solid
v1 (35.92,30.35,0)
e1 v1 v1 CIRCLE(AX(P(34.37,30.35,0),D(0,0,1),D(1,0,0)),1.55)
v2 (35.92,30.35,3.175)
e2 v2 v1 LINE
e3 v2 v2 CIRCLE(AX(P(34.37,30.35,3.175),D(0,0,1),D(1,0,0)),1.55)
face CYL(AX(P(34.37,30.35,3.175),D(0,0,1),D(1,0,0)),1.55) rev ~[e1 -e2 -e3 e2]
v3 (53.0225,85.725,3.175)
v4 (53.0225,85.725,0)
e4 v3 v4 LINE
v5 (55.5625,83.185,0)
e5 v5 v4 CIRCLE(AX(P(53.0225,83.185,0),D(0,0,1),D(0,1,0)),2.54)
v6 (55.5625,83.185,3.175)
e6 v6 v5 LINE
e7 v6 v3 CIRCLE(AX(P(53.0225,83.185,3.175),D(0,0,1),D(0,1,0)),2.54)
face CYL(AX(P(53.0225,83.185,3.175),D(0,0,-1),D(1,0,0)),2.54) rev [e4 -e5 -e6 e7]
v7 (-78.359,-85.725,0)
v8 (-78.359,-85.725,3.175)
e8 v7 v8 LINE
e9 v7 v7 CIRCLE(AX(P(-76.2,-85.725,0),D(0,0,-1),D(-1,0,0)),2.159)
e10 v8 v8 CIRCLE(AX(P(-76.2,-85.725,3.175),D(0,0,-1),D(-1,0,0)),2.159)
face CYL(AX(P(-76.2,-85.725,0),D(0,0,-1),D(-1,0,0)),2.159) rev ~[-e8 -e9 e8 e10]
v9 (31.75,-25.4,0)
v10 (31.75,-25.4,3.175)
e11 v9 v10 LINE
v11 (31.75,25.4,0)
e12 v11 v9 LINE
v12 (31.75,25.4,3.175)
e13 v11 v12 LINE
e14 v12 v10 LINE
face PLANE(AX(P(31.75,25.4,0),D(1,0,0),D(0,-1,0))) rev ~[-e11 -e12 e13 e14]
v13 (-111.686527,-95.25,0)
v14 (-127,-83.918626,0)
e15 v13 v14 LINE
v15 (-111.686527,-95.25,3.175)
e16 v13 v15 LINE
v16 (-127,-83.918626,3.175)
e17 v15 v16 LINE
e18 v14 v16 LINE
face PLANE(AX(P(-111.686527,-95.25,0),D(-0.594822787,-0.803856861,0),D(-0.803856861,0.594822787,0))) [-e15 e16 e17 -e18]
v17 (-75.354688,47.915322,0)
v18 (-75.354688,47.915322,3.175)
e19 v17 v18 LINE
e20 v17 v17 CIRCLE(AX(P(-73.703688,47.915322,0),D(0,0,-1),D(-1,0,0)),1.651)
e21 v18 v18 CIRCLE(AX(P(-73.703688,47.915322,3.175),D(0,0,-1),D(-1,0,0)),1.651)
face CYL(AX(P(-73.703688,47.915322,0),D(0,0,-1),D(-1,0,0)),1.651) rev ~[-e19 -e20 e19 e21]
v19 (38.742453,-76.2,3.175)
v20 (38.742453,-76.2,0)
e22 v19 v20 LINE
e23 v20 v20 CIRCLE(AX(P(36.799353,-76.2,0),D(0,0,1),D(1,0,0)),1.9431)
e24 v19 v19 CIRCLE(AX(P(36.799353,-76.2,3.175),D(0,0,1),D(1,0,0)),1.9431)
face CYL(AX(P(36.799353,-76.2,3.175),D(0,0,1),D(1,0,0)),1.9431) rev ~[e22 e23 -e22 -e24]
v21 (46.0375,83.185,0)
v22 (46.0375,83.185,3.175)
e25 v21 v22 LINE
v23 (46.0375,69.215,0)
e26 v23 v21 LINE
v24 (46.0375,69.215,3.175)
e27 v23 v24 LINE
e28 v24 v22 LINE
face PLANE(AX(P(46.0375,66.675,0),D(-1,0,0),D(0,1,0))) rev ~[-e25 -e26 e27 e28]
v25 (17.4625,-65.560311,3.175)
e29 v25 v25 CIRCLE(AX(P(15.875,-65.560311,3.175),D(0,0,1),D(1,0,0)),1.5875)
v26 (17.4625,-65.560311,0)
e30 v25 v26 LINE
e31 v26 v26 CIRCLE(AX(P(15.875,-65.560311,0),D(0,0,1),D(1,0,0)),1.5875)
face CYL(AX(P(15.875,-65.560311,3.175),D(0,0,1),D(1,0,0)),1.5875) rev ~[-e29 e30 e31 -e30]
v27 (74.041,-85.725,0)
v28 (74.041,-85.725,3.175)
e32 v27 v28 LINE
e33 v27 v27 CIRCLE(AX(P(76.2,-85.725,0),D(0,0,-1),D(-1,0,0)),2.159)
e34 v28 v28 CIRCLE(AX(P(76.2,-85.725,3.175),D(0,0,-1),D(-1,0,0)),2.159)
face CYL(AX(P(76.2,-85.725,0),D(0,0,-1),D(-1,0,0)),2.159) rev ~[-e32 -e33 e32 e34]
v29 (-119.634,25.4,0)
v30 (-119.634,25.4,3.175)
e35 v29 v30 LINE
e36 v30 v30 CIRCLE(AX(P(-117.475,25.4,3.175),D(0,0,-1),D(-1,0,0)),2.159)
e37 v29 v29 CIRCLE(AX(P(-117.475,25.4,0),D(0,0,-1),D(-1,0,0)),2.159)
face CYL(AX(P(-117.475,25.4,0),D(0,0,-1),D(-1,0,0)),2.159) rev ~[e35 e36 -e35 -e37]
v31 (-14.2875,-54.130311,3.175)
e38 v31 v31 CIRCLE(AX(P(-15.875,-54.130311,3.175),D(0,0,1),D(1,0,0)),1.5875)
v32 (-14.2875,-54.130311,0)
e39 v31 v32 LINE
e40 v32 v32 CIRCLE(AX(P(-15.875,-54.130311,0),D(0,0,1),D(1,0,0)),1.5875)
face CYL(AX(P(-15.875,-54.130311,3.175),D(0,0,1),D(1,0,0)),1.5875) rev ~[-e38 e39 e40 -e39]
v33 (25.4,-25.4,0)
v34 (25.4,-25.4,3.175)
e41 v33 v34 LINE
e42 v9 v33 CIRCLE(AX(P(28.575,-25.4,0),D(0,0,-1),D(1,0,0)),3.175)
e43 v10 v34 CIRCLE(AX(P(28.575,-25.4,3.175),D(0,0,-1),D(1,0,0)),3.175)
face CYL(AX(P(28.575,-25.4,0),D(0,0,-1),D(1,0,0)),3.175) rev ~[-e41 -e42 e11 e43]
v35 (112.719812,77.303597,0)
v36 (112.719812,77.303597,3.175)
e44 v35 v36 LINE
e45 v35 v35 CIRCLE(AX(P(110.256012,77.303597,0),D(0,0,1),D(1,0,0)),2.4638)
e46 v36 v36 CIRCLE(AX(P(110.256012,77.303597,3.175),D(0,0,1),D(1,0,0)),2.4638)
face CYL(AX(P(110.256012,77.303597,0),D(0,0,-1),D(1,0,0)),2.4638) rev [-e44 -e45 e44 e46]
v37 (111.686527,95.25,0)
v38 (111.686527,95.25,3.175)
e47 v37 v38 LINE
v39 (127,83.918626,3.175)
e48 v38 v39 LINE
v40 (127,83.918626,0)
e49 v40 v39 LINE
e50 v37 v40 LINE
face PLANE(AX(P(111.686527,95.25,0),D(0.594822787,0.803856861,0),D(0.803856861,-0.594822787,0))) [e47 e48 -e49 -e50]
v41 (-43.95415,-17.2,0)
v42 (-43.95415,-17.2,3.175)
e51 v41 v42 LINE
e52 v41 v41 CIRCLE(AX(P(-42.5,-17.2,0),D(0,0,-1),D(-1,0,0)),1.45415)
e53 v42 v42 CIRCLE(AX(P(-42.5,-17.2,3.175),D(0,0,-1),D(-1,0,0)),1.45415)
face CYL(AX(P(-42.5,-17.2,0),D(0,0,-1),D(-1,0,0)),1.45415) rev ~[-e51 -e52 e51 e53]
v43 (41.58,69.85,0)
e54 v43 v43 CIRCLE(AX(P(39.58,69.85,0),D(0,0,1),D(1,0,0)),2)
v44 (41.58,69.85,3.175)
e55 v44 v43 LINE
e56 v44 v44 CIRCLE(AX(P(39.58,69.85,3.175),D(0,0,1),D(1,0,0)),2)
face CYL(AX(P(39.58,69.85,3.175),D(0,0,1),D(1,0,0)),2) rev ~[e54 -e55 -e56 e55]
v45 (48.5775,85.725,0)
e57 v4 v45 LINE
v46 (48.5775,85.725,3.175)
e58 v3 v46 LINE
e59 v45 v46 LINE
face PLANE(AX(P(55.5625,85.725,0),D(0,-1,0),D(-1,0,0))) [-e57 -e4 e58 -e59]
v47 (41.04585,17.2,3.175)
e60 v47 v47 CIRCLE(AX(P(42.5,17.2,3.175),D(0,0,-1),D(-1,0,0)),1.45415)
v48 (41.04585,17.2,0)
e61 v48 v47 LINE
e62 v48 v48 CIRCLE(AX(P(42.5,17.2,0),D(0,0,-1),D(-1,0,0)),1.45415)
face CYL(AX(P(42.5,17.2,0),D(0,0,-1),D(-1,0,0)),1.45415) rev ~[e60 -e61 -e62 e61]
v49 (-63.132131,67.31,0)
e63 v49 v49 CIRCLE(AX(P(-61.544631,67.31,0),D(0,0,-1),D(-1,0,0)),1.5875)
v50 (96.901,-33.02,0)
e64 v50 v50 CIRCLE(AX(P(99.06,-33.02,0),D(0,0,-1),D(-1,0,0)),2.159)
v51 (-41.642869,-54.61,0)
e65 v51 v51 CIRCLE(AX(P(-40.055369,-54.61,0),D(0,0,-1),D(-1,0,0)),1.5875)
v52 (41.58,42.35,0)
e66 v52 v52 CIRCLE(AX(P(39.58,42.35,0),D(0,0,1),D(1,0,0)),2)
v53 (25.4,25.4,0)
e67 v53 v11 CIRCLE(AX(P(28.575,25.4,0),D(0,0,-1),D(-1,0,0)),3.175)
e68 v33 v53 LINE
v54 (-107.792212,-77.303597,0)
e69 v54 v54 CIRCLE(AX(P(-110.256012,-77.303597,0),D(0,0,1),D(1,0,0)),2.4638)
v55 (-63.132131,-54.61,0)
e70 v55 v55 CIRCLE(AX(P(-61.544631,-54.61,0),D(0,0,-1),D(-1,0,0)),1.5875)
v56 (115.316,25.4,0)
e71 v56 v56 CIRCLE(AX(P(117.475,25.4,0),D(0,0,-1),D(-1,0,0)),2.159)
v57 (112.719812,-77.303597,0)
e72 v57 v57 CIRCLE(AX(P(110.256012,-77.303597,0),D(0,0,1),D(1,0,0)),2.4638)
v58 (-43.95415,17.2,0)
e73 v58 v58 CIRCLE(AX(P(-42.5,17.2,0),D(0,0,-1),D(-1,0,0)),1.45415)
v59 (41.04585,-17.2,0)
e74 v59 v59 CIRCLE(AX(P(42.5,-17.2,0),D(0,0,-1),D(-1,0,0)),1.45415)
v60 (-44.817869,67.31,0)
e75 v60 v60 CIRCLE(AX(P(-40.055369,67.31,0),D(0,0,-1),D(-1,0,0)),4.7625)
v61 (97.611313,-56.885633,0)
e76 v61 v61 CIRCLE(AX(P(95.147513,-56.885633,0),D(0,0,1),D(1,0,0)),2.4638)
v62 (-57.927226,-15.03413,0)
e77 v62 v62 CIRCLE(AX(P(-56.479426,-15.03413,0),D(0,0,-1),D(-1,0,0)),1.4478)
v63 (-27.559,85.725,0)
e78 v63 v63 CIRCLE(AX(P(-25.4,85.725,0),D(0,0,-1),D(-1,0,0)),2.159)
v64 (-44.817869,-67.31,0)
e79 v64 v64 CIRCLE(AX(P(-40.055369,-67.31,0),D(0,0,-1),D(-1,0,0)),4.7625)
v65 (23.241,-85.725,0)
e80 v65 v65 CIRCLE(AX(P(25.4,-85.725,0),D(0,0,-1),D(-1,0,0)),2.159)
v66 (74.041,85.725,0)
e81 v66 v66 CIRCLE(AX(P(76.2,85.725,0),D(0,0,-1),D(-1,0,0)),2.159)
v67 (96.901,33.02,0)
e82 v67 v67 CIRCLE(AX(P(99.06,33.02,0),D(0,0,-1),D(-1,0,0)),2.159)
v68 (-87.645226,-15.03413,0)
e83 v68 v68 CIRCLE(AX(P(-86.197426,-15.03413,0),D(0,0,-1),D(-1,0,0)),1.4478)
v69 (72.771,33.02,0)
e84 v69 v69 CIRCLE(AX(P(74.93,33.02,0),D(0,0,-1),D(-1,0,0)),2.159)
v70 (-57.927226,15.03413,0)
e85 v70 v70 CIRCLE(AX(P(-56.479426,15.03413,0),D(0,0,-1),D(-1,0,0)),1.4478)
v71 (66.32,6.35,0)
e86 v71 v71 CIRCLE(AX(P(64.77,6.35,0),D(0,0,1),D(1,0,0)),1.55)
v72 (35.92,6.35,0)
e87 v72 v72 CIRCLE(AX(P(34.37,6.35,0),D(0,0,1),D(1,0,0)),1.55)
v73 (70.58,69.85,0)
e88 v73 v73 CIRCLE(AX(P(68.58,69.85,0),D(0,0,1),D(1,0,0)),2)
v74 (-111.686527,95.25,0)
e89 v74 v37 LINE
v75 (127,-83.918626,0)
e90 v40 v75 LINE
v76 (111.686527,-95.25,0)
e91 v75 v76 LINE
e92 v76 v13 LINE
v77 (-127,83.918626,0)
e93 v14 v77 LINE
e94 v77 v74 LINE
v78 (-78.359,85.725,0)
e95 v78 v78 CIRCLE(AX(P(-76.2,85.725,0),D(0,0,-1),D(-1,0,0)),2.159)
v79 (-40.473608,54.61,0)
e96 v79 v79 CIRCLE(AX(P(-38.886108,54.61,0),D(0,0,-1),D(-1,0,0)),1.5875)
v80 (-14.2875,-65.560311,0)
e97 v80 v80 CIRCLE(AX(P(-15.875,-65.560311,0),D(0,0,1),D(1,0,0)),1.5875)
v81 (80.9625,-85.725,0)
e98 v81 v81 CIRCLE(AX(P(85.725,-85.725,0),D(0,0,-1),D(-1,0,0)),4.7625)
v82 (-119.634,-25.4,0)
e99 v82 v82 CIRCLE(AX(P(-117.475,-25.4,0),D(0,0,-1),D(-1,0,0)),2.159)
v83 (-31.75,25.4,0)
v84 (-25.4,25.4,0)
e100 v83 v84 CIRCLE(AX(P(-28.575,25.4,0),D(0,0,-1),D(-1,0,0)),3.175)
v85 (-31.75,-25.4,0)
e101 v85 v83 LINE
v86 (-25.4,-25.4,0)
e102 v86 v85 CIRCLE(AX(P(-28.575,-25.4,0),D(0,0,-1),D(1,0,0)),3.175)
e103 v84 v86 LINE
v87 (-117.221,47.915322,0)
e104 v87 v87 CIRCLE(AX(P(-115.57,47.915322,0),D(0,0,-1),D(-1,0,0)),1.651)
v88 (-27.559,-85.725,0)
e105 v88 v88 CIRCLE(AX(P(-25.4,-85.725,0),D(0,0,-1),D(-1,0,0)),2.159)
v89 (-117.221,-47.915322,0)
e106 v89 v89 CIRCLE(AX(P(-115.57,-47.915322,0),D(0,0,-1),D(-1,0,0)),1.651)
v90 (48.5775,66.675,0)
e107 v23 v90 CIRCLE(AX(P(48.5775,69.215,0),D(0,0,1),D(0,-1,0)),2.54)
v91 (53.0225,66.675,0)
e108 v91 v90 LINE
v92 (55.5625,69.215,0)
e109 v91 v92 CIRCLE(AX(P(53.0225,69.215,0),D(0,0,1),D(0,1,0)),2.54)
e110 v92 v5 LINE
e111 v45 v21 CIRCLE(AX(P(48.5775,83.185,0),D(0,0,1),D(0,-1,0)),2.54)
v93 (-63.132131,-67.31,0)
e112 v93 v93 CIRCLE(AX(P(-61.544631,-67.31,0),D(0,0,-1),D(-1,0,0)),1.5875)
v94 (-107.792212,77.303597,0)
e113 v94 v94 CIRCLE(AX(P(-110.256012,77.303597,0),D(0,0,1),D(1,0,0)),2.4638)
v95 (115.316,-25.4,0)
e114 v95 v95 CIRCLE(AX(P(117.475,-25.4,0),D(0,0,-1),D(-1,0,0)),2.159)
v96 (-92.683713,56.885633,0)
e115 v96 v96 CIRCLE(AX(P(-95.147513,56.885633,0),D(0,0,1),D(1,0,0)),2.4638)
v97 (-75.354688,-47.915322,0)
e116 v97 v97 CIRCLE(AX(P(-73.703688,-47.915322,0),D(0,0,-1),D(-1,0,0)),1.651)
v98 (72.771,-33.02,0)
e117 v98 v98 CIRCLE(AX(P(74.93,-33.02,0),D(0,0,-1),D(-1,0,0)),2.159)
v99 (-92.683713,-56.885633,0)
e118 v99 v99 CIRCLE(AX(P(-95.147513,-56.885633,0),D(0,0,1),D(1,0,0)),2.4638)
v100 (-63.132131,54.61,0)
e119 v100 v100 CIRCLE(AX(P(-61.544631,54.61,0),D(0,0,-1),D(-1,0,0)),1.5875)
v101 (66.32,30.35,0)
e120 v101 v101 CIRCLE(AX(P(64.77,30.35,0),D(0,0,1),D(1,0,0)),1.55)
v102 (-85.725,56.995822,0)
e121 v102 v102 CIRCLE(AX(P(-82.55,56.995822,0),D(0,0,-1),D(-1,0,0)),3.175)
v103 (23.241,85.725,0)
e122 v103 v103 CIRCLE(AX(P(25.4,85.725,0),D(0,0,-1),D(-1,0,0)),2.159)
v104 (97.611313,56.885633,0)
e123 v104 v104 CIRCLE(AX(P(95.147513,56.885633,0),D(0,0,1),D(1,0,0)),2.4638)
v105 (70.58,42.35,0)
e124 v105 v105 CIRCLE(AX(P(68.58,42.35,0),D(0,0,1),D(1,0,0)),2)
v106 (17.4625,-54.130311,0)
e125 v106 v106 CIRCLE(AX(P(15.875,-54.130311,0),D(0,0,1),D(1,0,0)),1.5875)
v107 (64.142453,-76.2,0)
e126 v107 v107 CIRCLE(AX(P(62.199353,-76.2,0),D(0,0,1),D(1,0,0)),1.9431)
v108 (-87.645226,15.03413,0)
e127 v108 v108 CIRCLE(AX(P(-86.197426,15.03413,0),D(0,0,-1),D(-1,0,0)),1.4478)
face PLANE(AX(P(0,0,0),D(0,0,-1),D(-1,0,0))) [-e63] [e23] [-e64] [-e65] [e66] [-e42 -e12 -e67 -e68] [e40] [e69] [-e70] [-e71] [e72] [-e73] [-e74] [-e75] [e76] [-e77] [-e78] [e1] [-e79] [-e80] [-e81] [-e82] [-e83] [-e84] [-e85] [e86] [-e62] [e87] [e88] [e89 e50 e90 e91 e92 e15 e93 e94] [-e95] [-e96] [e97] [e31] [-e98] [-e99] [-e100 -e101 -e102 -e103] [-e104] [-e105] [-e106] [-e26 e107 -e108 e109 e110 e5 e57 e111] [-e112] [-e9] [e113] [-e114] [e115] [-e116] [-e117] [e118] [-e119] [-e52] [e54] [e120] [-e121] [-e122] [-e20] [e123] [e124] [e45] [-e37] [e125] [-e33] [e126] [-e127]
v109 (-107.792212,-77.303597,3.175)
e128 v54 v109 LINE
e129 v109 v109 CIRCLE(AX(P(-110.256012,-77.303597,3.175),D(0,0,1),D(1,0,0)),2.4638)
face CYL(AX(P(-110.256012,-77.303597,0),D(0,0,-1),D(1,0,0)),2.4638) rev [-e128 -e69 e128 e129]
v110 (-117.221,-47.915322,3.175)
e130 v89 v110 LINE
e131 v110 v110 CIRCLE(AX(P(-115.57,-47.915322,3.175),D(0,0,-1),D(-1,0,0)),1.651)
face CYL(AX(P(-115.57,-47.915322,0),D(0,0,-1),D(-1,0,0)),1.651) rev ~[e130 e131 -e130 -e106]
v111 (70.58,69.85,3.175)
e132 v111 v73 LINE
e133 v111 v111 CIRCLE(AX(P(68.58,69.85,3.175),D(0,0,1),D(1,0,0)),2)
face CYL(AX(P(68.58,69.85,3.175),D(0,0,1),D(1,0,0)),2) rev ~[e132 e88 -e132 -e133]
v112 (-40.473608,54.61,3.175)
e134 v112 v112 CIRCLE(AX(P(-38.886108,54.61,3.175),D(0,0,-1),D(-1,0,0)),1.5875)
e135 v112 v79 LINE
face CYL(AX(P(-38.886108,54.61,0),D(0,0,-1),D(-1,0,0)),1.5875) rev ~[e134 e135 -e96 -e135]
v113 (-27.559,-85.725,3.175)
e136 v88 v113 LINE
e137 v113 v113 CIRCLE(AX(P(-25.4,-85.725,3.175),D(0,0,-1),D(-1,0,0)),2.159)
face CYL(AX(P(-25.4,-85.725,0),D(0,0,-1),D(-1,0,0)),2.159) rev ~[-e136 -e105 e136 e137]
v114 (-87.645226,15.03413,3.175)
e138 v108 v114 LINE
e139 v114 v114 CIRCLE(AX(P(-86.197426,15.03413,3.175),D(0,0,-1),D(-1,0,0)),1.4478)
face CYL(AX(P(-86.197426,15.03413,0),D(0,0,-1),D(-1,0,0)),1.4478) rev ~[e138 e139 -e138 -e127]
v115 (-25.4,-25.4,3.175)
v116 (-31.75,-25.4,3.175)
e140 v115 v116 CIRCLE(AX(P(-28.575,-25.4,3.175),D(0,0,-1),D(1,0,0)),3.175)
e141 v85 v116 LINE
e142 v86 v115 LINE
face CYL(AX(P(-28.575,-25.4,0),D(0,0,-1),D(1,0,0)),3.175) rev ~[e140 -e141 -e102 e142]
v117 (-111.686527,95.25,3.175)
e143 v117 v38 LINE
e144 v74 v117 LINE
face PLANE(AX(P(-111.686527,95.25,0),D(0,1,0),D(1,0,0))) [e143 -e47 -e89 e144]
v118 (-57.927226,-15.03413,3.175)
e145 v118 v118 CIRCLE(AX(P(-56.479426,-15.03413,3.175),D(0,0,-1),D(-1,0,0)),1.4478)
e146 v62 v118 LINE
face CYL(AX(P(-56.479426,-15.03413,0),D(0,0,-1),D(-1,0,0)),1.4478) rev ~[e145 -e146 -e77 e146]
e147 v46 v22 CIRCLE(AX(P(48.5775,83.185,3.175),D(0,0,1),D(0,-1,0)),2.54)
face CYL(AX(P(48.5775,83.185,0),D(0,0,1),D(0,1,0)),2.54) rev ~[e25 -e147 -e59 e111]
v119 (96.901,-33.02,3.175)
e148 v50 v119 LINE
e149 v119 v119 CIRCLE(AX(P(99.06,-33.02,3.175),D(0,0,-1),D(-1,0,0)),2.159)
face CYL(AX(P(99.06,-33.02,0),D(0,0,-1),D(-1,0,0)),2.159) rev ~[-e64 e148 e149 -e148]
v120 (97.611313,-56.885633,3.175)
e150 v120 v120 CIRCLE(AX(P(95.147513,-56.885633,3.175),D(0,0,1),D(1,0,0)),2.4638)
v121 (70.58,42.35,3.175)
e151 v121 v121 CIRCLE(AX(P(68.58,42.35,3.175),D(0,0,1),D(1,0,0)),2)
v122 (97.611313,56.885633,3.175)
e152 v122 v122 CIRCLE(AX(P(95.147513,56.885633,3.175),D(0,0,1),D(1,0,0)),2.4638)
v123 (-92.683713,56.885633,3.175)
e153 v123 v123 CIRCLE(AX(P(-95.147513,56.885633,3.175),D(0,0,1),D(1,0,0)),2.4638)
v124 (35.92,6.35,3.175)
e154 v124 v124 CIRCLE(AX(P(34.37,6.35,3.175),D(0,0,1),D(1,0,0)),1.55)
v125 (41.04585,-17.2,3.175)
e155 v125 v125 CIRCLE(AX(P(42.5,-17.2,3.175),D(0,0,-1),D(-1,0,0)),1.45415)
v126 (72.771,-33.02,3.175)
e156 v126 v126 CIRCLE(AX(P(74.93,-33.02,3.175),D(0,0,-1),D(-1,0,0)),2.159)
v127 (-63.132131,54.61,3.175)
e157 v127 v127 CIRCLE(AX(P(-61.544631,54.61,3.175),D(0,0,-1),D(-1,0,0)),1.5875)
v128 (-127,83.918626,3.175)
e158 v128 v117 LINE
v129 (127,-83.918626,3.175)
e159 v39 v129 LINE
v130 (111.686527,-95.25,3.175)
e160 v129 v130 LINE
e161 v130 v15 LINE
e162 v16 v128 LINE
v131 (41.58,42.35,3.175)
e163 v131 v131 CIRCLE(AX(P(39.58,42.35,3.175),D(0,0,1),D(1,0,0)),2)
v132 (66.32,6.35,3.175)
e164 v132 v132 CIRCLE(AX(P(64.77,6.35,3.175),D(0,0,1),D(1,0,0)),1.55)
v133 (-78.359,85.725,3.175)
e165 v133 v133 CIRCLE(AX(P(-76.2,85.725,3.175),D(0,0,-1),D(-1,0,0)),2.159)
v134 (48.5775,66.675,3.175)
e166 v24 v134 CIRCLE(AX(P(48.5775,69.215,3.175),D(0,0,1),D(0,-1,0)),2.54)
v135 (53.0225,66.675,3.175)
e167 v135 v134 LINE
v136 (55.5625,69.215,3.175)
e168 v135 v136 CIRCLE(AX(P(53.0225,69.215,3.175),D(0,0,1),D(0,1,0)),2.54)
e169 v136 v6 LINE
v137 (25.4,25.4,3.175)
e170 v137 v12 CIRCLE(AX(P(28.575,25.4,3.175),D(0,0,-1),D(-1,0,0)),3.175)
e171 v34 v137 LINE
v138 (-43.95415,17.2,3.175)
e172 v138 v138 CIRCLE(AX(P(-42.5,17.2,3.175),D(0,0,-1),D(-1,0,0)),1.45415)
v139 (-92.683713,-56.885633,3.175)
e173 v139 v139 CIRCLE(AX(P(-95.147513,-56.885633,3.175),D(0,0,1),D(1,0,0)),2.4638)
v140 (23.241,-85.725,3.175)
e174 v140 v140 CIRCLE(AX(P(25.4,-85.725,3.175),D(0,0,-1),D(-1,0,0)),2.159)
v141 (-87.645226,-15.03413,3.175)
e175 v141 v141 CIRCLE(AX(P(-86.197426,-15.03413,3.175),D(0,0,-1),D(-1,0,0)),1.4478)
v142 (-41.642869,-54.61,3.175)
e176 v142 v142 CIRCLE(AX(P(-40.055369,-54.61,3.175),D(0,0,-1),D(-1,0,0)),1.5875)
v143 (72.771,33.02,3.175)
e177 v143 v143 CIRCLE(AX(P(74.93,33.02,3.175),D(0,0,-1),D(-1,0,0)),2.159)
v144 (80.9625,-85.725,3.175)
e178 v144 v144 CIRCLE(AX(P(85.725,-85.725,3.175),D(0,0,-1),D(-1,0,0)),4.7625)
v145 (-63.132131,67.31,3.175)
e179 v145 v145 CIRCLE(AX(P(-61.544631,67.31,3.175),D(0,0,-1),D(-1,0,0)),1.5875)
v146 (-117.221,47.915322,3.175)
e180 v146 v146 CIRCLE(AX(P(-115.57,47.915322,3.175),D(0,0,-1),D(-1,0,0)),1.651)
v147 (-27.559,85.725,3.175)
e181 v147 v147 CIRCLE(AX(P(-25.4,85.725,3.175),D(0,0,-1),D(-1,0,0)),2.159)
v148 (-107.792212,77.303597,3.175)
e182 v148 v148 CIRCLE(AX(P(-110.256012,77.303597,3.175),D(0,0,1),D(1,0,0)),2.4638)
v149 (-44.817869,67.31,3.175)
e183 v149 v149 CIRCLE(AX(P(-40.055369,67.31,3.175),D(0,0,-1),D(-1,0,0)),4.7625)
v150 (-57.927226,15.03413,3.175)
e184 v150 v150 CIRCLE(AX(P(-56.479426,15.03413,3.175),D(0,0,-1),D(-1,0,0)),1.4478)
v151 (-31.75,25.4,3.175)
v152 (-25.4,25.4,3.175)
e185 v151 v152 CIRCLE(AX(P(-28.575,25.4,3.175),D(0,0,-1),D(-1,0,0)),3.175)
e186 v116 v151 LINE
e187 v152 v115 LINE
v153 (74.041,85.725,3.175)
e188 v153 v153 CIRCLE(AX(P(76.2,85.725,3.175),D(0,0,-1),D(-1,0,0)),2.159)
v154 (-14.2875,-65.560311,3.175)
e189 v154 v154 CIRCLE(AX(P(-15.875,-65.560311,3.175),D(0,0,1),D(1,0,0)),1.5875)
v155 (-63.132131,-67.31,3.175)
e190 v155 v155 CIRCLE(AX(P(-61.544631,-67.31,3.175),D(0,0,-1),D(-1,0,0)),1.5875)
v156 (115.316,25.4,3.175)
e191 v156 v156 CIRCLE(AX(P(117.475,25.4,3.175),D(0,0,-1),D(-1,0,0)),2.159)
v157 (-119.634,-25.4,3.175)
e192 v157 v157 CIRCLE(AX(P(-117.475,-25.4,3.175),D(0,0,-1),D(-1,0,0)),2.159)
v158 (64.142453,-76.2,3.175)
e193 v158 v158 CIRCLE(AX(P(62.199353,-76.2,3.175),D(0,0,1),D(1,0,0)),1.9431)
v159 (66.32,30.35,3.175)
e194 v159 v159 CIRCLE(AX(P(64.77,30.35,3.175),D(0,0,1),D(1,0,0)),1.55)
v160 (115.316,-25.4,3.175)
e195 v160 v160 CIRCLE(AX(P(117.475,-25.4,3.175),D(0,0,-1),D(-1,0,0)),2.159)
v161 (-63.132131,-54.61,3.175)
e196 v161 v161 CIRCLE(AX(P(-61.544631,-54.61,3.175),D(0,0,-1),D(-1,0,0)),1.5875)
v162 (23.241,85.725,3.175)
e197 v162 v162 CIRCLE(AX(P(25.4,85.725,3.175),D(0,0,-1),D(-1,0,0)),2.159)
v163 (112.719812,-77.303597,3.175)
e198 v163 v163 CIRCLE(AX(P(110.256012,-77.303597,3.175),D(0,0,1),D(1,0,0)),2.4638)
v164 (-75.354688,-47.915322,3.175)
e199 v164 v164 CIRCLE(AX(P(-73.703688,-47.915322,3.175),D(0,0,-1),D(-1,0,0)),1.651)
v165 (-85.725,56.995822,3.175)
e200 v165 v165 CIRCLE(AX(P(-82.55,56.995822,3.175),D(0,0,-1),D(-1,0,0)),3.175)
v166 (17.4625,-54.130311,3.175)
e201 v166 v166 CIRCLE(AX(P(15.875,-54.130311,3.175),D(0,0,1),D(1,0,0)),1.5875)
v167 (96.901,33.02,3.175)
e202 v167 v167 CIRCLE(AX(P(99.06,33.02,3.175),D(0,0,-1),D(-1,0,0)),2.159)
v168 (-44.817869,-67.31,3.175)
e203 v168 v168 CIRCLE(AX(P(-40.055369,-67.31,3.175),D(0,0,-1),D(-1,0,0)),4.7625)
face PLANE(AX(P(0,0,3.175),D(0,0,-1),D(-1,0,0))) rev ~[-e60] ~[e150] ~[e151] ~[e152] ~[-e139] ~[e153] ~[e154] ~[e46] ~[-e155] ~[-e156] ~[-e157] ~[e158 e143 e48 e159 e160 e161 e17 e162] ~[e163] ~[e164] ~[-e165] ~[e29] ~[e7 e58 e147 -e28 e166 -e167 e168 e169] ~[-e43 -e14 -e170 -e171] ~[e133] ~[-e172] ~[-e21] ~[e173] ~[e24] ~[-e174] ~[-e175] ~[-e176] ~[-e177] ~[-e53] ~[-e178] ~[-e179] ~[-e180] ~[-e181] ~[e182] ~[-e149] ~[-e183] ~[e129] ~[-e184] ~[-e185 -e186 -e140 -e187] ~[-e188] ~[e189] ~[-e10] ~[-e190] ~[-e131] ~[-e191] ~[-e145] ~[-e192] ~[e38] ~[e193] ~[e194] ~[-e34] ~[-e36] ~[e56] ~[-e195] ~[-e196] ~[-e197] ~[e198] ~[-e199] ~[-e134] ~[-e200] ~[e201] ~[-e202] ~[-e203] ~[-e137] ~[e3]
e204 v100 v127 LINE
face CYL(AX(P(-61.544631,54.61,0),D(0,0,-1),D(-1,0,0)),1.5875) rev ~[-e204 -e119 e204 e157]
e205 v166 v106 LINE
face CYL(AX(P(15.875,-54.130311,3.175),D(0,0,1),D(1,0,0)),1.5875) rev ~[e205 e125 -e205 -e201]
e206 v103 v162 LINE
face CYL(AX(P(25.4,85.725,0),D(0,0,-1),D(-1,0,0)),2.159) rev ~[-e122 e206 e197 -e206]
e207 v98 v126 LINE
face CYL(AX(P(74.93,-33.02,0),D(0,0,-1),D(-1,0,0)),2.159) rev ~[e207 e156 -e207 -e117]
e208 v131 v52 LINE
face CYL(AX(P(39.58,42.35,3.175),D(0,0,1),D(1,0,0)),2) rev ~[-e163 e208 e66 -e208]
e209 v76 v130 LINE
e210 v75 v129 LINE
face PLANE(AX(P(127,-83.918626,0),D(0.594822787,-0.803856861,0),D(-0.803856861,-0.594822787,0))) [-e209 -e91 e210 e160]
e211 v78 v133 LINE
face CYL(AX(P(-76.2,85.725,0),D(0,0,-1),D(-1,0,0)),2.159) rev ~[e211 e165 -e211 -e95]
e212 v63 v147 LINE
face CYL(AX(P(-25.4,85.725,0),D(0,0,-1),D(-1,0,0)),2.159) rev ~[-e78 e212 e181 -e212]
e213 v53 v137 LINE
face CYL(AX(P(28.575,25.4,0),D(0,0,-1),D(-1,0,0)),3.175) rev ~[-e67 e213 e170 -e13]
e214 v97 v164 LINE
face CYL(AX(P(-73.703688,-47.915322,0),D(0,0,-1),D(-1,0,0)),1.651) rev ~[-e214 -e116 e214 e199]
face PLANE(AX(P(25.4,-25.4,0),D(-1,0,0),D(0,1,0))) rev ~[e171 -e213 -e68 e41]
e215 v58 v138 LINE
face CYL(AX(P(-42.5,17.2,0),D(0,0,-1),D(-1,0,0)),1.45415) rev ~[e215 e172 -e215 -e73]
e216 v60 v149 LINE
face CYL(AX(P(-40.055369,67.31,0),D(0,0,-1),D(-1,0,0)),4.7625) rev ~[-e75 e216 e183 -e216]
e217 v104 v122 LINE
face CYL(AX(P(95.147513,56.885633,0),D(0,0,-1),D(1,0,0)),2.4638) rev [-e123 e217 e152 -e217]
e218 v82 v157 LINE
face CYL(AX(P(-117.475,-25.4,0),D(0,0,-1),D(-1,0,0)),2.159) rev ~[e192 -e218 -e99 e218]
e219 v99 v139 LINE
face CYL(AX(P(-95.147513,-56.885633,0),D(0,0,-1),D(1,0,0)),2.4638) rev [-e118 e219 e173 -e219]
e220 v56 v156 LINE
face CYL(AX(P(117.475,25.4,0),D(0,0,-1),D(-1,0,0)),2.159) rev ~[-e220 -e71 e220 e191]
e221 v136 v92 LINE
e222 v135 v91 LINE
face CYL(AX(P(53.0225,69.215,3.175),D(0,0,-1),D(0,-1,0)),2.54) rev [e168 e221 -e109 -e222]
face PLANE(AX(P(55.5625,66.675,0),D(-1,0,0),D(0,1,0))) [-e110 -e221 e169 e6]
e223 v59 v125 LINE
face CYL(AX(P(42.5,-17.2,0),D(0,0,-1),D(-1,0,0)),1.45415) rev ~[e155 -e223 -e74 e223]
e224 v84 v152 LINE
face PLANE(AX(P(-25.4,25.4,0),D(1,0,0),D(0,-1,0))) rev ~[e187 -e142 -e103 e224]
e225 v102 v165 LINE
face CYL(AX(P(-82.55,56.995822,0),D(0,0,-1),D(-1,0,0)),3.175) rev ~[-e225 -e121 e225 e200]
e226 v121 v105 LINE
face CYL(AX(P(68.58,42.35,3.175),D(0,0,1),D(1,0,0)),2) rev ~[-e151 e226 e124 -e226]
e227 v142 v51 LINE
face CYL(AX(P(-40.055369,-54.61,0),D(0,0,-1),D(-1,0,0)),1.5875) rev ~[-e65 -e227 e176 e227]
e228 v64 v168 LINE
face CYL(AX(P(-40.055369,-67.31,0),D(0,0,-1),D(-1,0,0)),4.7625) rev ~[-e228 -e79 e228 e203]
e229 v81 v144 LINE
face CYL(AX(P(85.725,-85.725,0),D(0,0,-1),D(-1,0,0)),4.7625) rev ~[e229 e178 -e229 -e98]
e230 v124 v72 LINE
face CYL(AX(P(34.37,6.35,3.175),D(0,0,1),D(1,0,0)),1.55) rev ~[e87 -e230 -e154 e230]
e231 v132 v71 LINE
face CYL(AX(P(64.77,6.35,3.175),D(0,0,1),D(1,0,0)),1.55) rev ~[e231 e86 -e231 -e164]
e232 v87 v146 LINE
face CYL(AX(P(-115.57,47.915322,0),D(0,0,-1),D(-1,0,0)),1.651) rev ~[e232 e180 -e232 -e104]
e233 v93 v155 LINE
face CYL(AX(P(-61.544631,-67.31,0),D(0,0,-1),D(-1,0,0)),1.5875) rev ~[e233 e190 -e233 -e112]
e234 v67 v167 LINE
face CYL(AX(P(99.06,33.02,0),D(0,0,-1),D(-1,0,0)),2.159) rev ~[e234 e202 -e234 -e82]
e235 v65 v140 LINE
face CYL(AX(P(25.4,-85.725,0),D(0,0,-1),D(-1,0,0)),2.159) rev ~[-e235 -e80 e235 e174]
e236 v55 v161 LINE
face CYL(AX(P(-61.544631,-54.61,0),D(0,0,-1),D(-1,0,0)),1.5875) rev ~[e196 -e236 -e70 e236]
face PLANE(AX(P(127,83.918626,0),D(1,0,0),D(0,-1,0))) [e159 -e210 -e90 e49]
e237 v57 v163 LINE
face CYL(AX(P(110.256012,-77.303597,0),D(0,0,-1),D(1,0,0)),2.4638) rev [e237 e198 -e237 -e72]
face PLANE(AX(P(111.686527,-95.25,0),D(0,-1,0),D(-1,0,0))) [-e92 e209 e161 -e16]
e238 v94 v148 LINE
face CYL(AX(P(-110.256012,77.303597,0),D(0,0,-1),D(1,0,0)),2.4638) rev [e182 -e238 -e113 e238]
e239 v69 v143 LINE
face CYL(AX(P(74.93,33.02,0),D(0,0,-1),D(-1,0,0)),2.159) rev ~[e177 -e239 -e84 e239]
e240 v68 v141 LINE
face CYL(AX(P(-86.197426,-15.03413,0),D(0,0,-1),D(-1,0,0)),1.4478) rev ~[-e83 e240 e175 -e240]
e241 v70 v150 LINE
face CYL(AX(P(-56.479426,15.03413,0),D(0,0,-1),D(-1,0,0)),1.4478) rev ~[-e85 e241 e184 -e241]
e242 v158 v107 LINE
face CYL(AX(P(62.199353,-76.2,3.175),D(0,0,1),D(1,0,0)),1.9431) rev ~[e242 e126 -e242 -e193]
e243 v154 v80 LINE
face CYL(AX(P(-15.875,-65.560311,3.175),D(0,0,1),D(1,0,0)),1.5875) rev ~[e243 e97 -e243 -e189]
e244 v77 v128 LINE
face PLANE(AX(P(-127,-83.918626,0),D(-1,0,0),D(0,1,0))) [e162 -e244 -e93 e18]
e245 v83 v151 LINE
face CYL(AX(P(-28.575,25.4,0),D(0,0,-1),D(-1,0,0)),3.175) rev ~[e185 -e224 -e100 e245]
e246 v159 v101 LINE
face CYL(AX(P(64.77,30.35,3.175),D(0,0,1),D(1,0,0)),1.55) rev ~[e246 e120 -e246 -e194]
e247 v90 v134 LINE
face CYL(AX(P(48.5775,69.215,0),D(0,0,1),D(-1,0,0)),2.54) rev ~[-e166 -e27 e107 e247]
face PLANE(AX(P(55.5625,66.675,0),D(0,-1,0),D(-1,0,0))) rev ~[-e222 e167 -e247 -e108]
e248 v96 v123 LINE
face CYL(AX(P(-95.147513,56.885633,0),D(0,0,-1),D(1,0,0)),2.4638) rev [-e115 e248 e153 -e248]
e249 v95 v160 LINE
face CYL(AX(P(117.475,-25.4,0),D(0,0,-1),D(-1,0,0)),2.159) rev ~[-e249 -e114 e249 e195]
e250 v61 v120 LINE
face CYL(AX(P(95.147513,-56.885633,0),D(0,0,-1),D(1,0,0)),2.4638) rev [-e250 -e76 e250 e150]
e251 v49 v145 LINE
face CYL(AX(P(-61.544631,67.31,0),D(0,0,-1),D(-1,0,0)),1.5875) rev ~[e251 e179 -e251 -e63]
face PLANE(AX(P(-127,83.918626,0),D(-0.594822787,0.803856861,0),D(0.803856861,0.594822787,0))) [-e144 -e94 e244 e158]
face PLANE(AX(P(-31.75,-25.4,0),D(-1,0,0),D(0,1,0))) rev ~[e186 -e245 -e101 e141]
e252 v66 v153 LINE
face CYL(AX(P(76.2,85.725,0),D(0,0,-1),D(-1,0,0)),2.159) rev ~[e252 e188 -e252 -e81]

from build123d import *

# Parameters (mm, degrees)
SKETCH1_R                = 2.4638
BOSS_EXTRUDE1_DEPTH      = 3.175
SKETCH5_R                = 3.175
SKETCH5_R_2              = 1.651
SKETCH5_R_3              = 1.4478
CUT_EXTRUDE2_DEPTH       = 4.175
SKETCH6_R                = 2.159
CUT_EXTRUDE3_DEPTH       = 4.175
SKETCH5_3_R              = 1.45415
CUT_EXTRUDE4_DEPTH       = 4.175
SKETCH5_4_R              = 1.5875
SKETCH5_4_R_2            = 4.7625
CUT_EXTRUDE5_DEPTH       = 4.175
SKETCH5_5_R              = 1.5875
CUT_EXTRUDE6_DEPTH       = 2.54
SKETCH5_6_R              = 1.5875
CUT_EXTRUDE7_DEPTH       = 4.175
SKETCH5_7_R              = 1.5875
SKETCH5_7_W              = 9.525
SKETCH5_7_H              = 19.05
CUT_EXTRUDE8_DEPTH       = 7.62
CUT_EXTRUDE8_DEPTH_BACK  = 2.54
SKETCH5_9_R              = 1.5875
CUT_EXTRUDE9_DEPTH       = 4.175
SKETCH5_15_R             = 2.159
SKETCH5_15_W             = 9.525
SKETCH5_15_H             = 19.05
CUT_EXTRUDE17_DEPTH      = 1
CUT_EXTRUDE17_DEPTH_BACK = 4.175
FILLET1_R                = 2.54
FILLET2_R                = 2.54
SKETCH2_R                = 1.9431
CUT_EXTRUDE20_DEPTH      = 4.175
FILLET3_R                = 2.54
FILLET4_R                = 2.54
SKETCH9_R                = 1.55
SKETCH9_R_2              = 2
CUT_EXTRUDE18_DEPTH      = 4.175
SKETCH3_R                = 1.5875
CUT_EXTRUDE19_DEPTH      = 976.122


with BuildPart() as part:
    # Sketch1 → Boss-Extrude1 (new body)
    with BuildSketch(Plane.XY):
        Polygon((-111.686526805, -95.25), (-127, -83.918625912), (-127, 83.918625912), (-111.686526805, 95.25), (111.686526805, 95.25), (127, 83.918625912), (127, -83.918625912), (111.686526805, -95.25), align=None)
        with Locations((-95.147512794, 56.885632681)):
            Circle(SKETCH1_R, mode=Mode.SUBTRACT)
        with Locations((-110.256011578, 77.303596941)):
            Circle(SKETCH1_R, mode=Mode.SUBTRACT)
        with Locations((110.256011578, 77.303596941)):
            Circle(SKETCH1_R, mode=Mode.SUBTRACT)
        with Locations((95.147512794, 56.885632681)):
            Circle(SKETCH1_R, mode=Mode.SUBTRACT)
        with Locations((-110.256011578, -77.303596941)):
            Circle(SKETCH1_R, mode=Mode.SUBTRACT)
        with Locations((-95.147512794, -56.885632681)):
            Circle(SKETCH1_R, mode=Mode.SUBTRACT)
        with Locations((110.256011578, -77.303596941)):
            Circle(SKETCH1_R, mode=Mode.SUBTRACT)
        with Locations((95.147512794, -56.885632681)):
            Circle(SKETCH1_R, mode=Mode.SUBTRACT)
    extrude(amount=BOSS_EXTRUDE1_DEPTH)

    # Sketch5 → Cut-Extrude2 (cut, through all)
    with BuildSketch(Plane(origin=(0, 0, 0), x_dir=(-1, 0, 0), z_dir=(0, 0, -1))):
        with BuildLine():
            Line((-25.4, -25.4), (-25.4, 25.4))
            ThreePointArc((-25.4, 25.4), (-28.575, 28.575), (-31.75, 25.4))
            Line((-31.75, 25.4), (-31.75, -25.4))
            ThreePointArc((-31.75, -25.4), (-28.575, -28.575), (-25.4, -25.4))
        make_face()
        with BuildLine():
            ThreePointArc((31.75, 25.4), (28.575, 28.575), (25.4, 25.4))
            Line((25.4, 25.4), (25.4, -25.4))
            ThreePointArc((25.4, -25.4), (28.575, -28.575), (31.75, -25.4))
            Line((31.75, -25.4), (31.75, 25.4))
        make_face()
        with Locations((82.55, 56.995822)):
            Circle(SKETCH5_R)
        with Locations((73.703688, 47.915322)):
            Circle(SKETCH5_R_2)
        with Locations((115.57, 47.915322)):
            Circle(SKETCH5_R_2)
        with Locations((73.703688, -47.915322)):
            Circle(SKETCH5_R_2)
        with Locations((115.57, -47.915322)):
            Circle(SKETCH5_R_2)
        with Locations((56.479426463, 15.03413)):
            Circle(SKETCH5_R_3)
        with Locations((56.479426463, -15.03413)):
            Circle(SKETCH5_R_3)
        with Locations((86.197426463, -15.03413)):
            Circle(SKETCH5_R_3)
        with Locations((86.197426463, 15.03413)):
            Circle(SKETCH5_R_3)
    extrude(amount=-CUT_EXTRUDE2_DEPTH, mode=Mode.SUBTRACT)

    # Sketch6 → Cut-Extrude3 (cut, through all)
    with BuildSketch(Plane(origin=(0, 0, 0), x_dir=(-1, 0, 0), z_dir=(0, 0, -1))):
        with Locations((-76.2, -85.725)):
            Circle(SKETCH6_R)
        with Locations((-25.4, -85.725)):
            Circle(SKETCH6_R)
        with Locations((25.4, -85.725)):
            Circle(SKETCH6_R)
        with Locations((76.2, -85.725)):
            Circle(SKETCH6_R)
        with Locations((76.2, 85.725)):
            Circle(SKETCH6_R)
        with Locations((25.4, 85.725)):
            Circle(SKETCH6_R)
        with Locations((-25.4, 85.725)):
            Circle(SKETCH6_R)
        with Locations((-76.2, 85.725)):
            Circle(SKETCH6_R)
        with Locations((117.475, -25.4)):
            Circle(SKETCH6_R)
        with Locations((117.475, 25.4)):
            Circle(SKETCH6_R)
        with Locations((-117.475, 25.4)):
            Circle(SKETCH6_R)
        with Locations((-117.475, -25.4)):
            Circle(SKETCH6_R)
    extrude(amount=-CUT_EXTRUDE3_DEPTH, mode=Mode.SUBTRACT)

    # Sketch5_3 → Cut-Extrude4 (cut, through all)
    with BuildSketch(Plane(origin=(0, 0, 0), x_dir=(-1, 0, 0), z_dir=(0, 0, -1))):
        with Locations((-42.5, 17.2)):
            Circle(SKETCH5_3_R)
        with Locations((-42.5, -17.2)):
            Circle(SKETCH5_3_R)
        with Locations((42.5, -17.2)):
            Circle(SKETCH5_3_R)
        with Locations((42.5, 17.2)):
            Circle(SKETCH5_3_R)
    extrude(amount=-CUT_EXTRUDE4_DEPTH, mode=Mode.SUBTRACT)

    # Sketch5_4 → Cut-Extrude5 (cut, through all)
    with BuildSketch(Plane(origin=(0, 0, 0), x_dir=(-1, 0, 0), z_dir=(0, 0, -1))):
        with Locations((61.544630637, -54.61)):
            Circle(SKETCH5_4_R)
        with Locations((61.544630637, -67.31)):
            Circle(SKETCH5_4_R)
        with Locations((-85.725, -85.725)):
            Circle(SKETCH5_4_R_2)
        with Locations((61.544630637, 54.61)):
            Circle(SKETCH5_4_R)
        with Locations((40.055369363, -67.31)):
            Circle(SKETCH5_4_R_2)
        with Locations((61.544630637, 67.31)):
            Circle(SKETCH5_4_R)
        with Locations((40.055369363, 67.31)):
            Circle(SKETCH5_4_R_2)
    extrude(amount=-CUT_EXTRUDE5_DEPTH, mode=Mode.SUBTRACT)

    # Sketch5_5 → Cut-Extrude6 (cut)
    with BuildSketch(Plane(origin=(0, 0, 0), x_dir=(-1, 0, 0), z_dir=(0, 0, -1))):
        with Locations((38.886108088, 54.61)):
            Circle(SKETCH5_5_R)
    extrude(amount=-CUT_EXTRUDE6_DEPTH, mode=Mode.SUBTRACT)

    # Sketch5_6 → Cut-Extrude7 (cut, through all)
    with BuildSketch(Plane(origin=(0, 0, 0), x_dir=(-1, 0, 0), z_dir=(0, 0, -1))):
        with Locations((38.886108088, 54.61)):
            Circle(SKETCH5_6_R)
    extrude(amount=-CUT_EXTRUDE7_DEPTH, mode=Mode.SUBTRACT)

    # Sketch5_7 → Cut-Extrude8 (cut, two sides)
    with BuildSketch(Plane(origin=(0, 0, 0), x_dir=(-1, 0, 0), z_dir=(0, 0, -1))) as cut_extrude8_sk:
        with Locations((40.055369363, -54.61)):
            Circle(SKETCH5_7_R)
        with Locations((-50.8, 76.2)):
            Rectangle(SKETCH5_7_W, SKETCH5_7_H)
    extrude(amount=CUT_EXTRUDE8_DEPTH, mode=Mode.SUBTRACT)
    extrude(cut_extrude8_sk.sketch, amount=-CUT_EXTRUDE8_DEPTH_BACK, mode=Mode.SUBTRACT)

    # Sketch5_9 → Cut-Extrude9 (cut, through all)
    with BuildSketch(Plane(origin=(0, 0, 0), x_dir=(-1, 0, 0), z_dir=(0, 0, -1))):
        with Locations((40.055369363, -54.61)):
            Circle(SKETCH5_9_R)
    extrude(amount=-CUT_EXTRUDE9_DEPTH, mode=Mode.SUBTRACT)

    # Sketch5_15 → Cut-Extrude17 (cut, two sides)
    with BuildSketch(Plane(origin=(0, 0, 0), x_dir=(-1, 0, 0), z_dir=(0, 0, -1))) as cut_extrude17_sk:
        with Locations((-74.93, -33.02)):
            Circle(SKETCH5_15_R)
        with Locations((-99.06, -33.02)):
            Circle(SKETCH5_15_R)
        with Locations((-99.06, 33.02)):
            Circle(SKETCH5_15_R)
        with Locations((-74.93, 33.02)):
            Circle(SKETCH5_15_R)
        with Locations((-50.8, 76.2)):
            Rectangle(SKETCH5_15_W, SKETCH5_15_H)
    extrude(amount=CUT_EXTRUDE17_DEPTH, mode=Mode.SUBTRACT)
    extrude(cut_extrude17_sk.sketch, amount=-CUT_EXTRUDE17_DEPTH_BACK, mode=Mode.SUBTRACT)

    # Fillet1
    fillet1_edges = [part.edges().sort_by_distance(p)[0] for p in [
        (55.5625, 85.725, 1.5875),
    ]]
    fillet(fillet1_edges, radius=FILLET1_R)

    # Fillet2
    fillet2_edges = [part.edges().sort_by_distance(p)[0] for p in [
        (46.0375, 85.725, 1.5875),
    ]]
    fillet(fillet2_edges, radius=FILLET2_R)

    # Sketch2 → Cut-Extrude20 (cut, through all)
    with BuildSketch(Plane.XY.offset(3.175)):
        with Locations((62.199353496, -76.2)):
            Circle(SKETCH2_R)
        with Locations((36.799353496, -76.2)):
            Circle(SKETCH2_R)
    extrude(amount=-CUT_EXTRUDE20_DEPTH, mode=Mode.SUBTRACT)

    # Fillet3
    fillet3_edges = [part.edges().sort_by_distance(p)[0] for p in [
        (46.0375, 66.675, 1.5875),
    ]]
    fillet(fillet3_edges, radius=FILLET3_R)

    # Fillet4
    fillet4_edges = [part.edges().sort_by_distance(p)[0] for p in [
        (55.5625, 66.675, 1.5875),
    ]]
    fillet(fillet4_edges, radius=FILLET4_R)

    # Sketch9 → Cut-Extrude18 (cut, through all)
    with BuildSketch(Plane.XY.offset(3.175)):
        with Locations((34.370000094, 30.350000006)):
            Circle(SKETCH9_R)
        with Locations((64.77, 30.350000006)):
            Circle(SKETCH9_R)
        with Locations((64.77, 6.35)):
            Circle(SKETCH9_R)
        with Locations((34.370000094, 6.35)):
            Circle(SKETCH9_R)
        with Locations((68.58, 69.85)):
            Circle(SKETCH9_R_2)
        with Locations((39.58, 69.85)):
            Circle(SKETCH9_R_2)
        with Locations((39.58, 42.35)):
            Circle(SKETCH9_R_2)
        with Locations((68.58, 42.35)):
            Circle(SKETCH9_R_2)
    extrude(amount=-CUT_EXTRUDE18_DEPTH, mode=Mode.SUBTRACT)

    # Sketch3 → Cut-Extrude19 (cut)
    with BuildSketch(Plane.XY.offset(3.175)):
        with Locations((-15.875, -65.560310834)):
            Circle(SKETCH3_R)
        with Locations((15.875, -65.560310834)):
            Circle(SKETCH3_R)
        with Locations((-15.875, -54.130310834)):
            Circle(SKETCH3_R)
        with Locations((15.875, -54.130310834)):
            Circle(SKETCH3_R)
    extrude(amount=-CUT_EXTRUDE19_DEPTH, mode=Mode.SUBTRACT)


solid = part.part
